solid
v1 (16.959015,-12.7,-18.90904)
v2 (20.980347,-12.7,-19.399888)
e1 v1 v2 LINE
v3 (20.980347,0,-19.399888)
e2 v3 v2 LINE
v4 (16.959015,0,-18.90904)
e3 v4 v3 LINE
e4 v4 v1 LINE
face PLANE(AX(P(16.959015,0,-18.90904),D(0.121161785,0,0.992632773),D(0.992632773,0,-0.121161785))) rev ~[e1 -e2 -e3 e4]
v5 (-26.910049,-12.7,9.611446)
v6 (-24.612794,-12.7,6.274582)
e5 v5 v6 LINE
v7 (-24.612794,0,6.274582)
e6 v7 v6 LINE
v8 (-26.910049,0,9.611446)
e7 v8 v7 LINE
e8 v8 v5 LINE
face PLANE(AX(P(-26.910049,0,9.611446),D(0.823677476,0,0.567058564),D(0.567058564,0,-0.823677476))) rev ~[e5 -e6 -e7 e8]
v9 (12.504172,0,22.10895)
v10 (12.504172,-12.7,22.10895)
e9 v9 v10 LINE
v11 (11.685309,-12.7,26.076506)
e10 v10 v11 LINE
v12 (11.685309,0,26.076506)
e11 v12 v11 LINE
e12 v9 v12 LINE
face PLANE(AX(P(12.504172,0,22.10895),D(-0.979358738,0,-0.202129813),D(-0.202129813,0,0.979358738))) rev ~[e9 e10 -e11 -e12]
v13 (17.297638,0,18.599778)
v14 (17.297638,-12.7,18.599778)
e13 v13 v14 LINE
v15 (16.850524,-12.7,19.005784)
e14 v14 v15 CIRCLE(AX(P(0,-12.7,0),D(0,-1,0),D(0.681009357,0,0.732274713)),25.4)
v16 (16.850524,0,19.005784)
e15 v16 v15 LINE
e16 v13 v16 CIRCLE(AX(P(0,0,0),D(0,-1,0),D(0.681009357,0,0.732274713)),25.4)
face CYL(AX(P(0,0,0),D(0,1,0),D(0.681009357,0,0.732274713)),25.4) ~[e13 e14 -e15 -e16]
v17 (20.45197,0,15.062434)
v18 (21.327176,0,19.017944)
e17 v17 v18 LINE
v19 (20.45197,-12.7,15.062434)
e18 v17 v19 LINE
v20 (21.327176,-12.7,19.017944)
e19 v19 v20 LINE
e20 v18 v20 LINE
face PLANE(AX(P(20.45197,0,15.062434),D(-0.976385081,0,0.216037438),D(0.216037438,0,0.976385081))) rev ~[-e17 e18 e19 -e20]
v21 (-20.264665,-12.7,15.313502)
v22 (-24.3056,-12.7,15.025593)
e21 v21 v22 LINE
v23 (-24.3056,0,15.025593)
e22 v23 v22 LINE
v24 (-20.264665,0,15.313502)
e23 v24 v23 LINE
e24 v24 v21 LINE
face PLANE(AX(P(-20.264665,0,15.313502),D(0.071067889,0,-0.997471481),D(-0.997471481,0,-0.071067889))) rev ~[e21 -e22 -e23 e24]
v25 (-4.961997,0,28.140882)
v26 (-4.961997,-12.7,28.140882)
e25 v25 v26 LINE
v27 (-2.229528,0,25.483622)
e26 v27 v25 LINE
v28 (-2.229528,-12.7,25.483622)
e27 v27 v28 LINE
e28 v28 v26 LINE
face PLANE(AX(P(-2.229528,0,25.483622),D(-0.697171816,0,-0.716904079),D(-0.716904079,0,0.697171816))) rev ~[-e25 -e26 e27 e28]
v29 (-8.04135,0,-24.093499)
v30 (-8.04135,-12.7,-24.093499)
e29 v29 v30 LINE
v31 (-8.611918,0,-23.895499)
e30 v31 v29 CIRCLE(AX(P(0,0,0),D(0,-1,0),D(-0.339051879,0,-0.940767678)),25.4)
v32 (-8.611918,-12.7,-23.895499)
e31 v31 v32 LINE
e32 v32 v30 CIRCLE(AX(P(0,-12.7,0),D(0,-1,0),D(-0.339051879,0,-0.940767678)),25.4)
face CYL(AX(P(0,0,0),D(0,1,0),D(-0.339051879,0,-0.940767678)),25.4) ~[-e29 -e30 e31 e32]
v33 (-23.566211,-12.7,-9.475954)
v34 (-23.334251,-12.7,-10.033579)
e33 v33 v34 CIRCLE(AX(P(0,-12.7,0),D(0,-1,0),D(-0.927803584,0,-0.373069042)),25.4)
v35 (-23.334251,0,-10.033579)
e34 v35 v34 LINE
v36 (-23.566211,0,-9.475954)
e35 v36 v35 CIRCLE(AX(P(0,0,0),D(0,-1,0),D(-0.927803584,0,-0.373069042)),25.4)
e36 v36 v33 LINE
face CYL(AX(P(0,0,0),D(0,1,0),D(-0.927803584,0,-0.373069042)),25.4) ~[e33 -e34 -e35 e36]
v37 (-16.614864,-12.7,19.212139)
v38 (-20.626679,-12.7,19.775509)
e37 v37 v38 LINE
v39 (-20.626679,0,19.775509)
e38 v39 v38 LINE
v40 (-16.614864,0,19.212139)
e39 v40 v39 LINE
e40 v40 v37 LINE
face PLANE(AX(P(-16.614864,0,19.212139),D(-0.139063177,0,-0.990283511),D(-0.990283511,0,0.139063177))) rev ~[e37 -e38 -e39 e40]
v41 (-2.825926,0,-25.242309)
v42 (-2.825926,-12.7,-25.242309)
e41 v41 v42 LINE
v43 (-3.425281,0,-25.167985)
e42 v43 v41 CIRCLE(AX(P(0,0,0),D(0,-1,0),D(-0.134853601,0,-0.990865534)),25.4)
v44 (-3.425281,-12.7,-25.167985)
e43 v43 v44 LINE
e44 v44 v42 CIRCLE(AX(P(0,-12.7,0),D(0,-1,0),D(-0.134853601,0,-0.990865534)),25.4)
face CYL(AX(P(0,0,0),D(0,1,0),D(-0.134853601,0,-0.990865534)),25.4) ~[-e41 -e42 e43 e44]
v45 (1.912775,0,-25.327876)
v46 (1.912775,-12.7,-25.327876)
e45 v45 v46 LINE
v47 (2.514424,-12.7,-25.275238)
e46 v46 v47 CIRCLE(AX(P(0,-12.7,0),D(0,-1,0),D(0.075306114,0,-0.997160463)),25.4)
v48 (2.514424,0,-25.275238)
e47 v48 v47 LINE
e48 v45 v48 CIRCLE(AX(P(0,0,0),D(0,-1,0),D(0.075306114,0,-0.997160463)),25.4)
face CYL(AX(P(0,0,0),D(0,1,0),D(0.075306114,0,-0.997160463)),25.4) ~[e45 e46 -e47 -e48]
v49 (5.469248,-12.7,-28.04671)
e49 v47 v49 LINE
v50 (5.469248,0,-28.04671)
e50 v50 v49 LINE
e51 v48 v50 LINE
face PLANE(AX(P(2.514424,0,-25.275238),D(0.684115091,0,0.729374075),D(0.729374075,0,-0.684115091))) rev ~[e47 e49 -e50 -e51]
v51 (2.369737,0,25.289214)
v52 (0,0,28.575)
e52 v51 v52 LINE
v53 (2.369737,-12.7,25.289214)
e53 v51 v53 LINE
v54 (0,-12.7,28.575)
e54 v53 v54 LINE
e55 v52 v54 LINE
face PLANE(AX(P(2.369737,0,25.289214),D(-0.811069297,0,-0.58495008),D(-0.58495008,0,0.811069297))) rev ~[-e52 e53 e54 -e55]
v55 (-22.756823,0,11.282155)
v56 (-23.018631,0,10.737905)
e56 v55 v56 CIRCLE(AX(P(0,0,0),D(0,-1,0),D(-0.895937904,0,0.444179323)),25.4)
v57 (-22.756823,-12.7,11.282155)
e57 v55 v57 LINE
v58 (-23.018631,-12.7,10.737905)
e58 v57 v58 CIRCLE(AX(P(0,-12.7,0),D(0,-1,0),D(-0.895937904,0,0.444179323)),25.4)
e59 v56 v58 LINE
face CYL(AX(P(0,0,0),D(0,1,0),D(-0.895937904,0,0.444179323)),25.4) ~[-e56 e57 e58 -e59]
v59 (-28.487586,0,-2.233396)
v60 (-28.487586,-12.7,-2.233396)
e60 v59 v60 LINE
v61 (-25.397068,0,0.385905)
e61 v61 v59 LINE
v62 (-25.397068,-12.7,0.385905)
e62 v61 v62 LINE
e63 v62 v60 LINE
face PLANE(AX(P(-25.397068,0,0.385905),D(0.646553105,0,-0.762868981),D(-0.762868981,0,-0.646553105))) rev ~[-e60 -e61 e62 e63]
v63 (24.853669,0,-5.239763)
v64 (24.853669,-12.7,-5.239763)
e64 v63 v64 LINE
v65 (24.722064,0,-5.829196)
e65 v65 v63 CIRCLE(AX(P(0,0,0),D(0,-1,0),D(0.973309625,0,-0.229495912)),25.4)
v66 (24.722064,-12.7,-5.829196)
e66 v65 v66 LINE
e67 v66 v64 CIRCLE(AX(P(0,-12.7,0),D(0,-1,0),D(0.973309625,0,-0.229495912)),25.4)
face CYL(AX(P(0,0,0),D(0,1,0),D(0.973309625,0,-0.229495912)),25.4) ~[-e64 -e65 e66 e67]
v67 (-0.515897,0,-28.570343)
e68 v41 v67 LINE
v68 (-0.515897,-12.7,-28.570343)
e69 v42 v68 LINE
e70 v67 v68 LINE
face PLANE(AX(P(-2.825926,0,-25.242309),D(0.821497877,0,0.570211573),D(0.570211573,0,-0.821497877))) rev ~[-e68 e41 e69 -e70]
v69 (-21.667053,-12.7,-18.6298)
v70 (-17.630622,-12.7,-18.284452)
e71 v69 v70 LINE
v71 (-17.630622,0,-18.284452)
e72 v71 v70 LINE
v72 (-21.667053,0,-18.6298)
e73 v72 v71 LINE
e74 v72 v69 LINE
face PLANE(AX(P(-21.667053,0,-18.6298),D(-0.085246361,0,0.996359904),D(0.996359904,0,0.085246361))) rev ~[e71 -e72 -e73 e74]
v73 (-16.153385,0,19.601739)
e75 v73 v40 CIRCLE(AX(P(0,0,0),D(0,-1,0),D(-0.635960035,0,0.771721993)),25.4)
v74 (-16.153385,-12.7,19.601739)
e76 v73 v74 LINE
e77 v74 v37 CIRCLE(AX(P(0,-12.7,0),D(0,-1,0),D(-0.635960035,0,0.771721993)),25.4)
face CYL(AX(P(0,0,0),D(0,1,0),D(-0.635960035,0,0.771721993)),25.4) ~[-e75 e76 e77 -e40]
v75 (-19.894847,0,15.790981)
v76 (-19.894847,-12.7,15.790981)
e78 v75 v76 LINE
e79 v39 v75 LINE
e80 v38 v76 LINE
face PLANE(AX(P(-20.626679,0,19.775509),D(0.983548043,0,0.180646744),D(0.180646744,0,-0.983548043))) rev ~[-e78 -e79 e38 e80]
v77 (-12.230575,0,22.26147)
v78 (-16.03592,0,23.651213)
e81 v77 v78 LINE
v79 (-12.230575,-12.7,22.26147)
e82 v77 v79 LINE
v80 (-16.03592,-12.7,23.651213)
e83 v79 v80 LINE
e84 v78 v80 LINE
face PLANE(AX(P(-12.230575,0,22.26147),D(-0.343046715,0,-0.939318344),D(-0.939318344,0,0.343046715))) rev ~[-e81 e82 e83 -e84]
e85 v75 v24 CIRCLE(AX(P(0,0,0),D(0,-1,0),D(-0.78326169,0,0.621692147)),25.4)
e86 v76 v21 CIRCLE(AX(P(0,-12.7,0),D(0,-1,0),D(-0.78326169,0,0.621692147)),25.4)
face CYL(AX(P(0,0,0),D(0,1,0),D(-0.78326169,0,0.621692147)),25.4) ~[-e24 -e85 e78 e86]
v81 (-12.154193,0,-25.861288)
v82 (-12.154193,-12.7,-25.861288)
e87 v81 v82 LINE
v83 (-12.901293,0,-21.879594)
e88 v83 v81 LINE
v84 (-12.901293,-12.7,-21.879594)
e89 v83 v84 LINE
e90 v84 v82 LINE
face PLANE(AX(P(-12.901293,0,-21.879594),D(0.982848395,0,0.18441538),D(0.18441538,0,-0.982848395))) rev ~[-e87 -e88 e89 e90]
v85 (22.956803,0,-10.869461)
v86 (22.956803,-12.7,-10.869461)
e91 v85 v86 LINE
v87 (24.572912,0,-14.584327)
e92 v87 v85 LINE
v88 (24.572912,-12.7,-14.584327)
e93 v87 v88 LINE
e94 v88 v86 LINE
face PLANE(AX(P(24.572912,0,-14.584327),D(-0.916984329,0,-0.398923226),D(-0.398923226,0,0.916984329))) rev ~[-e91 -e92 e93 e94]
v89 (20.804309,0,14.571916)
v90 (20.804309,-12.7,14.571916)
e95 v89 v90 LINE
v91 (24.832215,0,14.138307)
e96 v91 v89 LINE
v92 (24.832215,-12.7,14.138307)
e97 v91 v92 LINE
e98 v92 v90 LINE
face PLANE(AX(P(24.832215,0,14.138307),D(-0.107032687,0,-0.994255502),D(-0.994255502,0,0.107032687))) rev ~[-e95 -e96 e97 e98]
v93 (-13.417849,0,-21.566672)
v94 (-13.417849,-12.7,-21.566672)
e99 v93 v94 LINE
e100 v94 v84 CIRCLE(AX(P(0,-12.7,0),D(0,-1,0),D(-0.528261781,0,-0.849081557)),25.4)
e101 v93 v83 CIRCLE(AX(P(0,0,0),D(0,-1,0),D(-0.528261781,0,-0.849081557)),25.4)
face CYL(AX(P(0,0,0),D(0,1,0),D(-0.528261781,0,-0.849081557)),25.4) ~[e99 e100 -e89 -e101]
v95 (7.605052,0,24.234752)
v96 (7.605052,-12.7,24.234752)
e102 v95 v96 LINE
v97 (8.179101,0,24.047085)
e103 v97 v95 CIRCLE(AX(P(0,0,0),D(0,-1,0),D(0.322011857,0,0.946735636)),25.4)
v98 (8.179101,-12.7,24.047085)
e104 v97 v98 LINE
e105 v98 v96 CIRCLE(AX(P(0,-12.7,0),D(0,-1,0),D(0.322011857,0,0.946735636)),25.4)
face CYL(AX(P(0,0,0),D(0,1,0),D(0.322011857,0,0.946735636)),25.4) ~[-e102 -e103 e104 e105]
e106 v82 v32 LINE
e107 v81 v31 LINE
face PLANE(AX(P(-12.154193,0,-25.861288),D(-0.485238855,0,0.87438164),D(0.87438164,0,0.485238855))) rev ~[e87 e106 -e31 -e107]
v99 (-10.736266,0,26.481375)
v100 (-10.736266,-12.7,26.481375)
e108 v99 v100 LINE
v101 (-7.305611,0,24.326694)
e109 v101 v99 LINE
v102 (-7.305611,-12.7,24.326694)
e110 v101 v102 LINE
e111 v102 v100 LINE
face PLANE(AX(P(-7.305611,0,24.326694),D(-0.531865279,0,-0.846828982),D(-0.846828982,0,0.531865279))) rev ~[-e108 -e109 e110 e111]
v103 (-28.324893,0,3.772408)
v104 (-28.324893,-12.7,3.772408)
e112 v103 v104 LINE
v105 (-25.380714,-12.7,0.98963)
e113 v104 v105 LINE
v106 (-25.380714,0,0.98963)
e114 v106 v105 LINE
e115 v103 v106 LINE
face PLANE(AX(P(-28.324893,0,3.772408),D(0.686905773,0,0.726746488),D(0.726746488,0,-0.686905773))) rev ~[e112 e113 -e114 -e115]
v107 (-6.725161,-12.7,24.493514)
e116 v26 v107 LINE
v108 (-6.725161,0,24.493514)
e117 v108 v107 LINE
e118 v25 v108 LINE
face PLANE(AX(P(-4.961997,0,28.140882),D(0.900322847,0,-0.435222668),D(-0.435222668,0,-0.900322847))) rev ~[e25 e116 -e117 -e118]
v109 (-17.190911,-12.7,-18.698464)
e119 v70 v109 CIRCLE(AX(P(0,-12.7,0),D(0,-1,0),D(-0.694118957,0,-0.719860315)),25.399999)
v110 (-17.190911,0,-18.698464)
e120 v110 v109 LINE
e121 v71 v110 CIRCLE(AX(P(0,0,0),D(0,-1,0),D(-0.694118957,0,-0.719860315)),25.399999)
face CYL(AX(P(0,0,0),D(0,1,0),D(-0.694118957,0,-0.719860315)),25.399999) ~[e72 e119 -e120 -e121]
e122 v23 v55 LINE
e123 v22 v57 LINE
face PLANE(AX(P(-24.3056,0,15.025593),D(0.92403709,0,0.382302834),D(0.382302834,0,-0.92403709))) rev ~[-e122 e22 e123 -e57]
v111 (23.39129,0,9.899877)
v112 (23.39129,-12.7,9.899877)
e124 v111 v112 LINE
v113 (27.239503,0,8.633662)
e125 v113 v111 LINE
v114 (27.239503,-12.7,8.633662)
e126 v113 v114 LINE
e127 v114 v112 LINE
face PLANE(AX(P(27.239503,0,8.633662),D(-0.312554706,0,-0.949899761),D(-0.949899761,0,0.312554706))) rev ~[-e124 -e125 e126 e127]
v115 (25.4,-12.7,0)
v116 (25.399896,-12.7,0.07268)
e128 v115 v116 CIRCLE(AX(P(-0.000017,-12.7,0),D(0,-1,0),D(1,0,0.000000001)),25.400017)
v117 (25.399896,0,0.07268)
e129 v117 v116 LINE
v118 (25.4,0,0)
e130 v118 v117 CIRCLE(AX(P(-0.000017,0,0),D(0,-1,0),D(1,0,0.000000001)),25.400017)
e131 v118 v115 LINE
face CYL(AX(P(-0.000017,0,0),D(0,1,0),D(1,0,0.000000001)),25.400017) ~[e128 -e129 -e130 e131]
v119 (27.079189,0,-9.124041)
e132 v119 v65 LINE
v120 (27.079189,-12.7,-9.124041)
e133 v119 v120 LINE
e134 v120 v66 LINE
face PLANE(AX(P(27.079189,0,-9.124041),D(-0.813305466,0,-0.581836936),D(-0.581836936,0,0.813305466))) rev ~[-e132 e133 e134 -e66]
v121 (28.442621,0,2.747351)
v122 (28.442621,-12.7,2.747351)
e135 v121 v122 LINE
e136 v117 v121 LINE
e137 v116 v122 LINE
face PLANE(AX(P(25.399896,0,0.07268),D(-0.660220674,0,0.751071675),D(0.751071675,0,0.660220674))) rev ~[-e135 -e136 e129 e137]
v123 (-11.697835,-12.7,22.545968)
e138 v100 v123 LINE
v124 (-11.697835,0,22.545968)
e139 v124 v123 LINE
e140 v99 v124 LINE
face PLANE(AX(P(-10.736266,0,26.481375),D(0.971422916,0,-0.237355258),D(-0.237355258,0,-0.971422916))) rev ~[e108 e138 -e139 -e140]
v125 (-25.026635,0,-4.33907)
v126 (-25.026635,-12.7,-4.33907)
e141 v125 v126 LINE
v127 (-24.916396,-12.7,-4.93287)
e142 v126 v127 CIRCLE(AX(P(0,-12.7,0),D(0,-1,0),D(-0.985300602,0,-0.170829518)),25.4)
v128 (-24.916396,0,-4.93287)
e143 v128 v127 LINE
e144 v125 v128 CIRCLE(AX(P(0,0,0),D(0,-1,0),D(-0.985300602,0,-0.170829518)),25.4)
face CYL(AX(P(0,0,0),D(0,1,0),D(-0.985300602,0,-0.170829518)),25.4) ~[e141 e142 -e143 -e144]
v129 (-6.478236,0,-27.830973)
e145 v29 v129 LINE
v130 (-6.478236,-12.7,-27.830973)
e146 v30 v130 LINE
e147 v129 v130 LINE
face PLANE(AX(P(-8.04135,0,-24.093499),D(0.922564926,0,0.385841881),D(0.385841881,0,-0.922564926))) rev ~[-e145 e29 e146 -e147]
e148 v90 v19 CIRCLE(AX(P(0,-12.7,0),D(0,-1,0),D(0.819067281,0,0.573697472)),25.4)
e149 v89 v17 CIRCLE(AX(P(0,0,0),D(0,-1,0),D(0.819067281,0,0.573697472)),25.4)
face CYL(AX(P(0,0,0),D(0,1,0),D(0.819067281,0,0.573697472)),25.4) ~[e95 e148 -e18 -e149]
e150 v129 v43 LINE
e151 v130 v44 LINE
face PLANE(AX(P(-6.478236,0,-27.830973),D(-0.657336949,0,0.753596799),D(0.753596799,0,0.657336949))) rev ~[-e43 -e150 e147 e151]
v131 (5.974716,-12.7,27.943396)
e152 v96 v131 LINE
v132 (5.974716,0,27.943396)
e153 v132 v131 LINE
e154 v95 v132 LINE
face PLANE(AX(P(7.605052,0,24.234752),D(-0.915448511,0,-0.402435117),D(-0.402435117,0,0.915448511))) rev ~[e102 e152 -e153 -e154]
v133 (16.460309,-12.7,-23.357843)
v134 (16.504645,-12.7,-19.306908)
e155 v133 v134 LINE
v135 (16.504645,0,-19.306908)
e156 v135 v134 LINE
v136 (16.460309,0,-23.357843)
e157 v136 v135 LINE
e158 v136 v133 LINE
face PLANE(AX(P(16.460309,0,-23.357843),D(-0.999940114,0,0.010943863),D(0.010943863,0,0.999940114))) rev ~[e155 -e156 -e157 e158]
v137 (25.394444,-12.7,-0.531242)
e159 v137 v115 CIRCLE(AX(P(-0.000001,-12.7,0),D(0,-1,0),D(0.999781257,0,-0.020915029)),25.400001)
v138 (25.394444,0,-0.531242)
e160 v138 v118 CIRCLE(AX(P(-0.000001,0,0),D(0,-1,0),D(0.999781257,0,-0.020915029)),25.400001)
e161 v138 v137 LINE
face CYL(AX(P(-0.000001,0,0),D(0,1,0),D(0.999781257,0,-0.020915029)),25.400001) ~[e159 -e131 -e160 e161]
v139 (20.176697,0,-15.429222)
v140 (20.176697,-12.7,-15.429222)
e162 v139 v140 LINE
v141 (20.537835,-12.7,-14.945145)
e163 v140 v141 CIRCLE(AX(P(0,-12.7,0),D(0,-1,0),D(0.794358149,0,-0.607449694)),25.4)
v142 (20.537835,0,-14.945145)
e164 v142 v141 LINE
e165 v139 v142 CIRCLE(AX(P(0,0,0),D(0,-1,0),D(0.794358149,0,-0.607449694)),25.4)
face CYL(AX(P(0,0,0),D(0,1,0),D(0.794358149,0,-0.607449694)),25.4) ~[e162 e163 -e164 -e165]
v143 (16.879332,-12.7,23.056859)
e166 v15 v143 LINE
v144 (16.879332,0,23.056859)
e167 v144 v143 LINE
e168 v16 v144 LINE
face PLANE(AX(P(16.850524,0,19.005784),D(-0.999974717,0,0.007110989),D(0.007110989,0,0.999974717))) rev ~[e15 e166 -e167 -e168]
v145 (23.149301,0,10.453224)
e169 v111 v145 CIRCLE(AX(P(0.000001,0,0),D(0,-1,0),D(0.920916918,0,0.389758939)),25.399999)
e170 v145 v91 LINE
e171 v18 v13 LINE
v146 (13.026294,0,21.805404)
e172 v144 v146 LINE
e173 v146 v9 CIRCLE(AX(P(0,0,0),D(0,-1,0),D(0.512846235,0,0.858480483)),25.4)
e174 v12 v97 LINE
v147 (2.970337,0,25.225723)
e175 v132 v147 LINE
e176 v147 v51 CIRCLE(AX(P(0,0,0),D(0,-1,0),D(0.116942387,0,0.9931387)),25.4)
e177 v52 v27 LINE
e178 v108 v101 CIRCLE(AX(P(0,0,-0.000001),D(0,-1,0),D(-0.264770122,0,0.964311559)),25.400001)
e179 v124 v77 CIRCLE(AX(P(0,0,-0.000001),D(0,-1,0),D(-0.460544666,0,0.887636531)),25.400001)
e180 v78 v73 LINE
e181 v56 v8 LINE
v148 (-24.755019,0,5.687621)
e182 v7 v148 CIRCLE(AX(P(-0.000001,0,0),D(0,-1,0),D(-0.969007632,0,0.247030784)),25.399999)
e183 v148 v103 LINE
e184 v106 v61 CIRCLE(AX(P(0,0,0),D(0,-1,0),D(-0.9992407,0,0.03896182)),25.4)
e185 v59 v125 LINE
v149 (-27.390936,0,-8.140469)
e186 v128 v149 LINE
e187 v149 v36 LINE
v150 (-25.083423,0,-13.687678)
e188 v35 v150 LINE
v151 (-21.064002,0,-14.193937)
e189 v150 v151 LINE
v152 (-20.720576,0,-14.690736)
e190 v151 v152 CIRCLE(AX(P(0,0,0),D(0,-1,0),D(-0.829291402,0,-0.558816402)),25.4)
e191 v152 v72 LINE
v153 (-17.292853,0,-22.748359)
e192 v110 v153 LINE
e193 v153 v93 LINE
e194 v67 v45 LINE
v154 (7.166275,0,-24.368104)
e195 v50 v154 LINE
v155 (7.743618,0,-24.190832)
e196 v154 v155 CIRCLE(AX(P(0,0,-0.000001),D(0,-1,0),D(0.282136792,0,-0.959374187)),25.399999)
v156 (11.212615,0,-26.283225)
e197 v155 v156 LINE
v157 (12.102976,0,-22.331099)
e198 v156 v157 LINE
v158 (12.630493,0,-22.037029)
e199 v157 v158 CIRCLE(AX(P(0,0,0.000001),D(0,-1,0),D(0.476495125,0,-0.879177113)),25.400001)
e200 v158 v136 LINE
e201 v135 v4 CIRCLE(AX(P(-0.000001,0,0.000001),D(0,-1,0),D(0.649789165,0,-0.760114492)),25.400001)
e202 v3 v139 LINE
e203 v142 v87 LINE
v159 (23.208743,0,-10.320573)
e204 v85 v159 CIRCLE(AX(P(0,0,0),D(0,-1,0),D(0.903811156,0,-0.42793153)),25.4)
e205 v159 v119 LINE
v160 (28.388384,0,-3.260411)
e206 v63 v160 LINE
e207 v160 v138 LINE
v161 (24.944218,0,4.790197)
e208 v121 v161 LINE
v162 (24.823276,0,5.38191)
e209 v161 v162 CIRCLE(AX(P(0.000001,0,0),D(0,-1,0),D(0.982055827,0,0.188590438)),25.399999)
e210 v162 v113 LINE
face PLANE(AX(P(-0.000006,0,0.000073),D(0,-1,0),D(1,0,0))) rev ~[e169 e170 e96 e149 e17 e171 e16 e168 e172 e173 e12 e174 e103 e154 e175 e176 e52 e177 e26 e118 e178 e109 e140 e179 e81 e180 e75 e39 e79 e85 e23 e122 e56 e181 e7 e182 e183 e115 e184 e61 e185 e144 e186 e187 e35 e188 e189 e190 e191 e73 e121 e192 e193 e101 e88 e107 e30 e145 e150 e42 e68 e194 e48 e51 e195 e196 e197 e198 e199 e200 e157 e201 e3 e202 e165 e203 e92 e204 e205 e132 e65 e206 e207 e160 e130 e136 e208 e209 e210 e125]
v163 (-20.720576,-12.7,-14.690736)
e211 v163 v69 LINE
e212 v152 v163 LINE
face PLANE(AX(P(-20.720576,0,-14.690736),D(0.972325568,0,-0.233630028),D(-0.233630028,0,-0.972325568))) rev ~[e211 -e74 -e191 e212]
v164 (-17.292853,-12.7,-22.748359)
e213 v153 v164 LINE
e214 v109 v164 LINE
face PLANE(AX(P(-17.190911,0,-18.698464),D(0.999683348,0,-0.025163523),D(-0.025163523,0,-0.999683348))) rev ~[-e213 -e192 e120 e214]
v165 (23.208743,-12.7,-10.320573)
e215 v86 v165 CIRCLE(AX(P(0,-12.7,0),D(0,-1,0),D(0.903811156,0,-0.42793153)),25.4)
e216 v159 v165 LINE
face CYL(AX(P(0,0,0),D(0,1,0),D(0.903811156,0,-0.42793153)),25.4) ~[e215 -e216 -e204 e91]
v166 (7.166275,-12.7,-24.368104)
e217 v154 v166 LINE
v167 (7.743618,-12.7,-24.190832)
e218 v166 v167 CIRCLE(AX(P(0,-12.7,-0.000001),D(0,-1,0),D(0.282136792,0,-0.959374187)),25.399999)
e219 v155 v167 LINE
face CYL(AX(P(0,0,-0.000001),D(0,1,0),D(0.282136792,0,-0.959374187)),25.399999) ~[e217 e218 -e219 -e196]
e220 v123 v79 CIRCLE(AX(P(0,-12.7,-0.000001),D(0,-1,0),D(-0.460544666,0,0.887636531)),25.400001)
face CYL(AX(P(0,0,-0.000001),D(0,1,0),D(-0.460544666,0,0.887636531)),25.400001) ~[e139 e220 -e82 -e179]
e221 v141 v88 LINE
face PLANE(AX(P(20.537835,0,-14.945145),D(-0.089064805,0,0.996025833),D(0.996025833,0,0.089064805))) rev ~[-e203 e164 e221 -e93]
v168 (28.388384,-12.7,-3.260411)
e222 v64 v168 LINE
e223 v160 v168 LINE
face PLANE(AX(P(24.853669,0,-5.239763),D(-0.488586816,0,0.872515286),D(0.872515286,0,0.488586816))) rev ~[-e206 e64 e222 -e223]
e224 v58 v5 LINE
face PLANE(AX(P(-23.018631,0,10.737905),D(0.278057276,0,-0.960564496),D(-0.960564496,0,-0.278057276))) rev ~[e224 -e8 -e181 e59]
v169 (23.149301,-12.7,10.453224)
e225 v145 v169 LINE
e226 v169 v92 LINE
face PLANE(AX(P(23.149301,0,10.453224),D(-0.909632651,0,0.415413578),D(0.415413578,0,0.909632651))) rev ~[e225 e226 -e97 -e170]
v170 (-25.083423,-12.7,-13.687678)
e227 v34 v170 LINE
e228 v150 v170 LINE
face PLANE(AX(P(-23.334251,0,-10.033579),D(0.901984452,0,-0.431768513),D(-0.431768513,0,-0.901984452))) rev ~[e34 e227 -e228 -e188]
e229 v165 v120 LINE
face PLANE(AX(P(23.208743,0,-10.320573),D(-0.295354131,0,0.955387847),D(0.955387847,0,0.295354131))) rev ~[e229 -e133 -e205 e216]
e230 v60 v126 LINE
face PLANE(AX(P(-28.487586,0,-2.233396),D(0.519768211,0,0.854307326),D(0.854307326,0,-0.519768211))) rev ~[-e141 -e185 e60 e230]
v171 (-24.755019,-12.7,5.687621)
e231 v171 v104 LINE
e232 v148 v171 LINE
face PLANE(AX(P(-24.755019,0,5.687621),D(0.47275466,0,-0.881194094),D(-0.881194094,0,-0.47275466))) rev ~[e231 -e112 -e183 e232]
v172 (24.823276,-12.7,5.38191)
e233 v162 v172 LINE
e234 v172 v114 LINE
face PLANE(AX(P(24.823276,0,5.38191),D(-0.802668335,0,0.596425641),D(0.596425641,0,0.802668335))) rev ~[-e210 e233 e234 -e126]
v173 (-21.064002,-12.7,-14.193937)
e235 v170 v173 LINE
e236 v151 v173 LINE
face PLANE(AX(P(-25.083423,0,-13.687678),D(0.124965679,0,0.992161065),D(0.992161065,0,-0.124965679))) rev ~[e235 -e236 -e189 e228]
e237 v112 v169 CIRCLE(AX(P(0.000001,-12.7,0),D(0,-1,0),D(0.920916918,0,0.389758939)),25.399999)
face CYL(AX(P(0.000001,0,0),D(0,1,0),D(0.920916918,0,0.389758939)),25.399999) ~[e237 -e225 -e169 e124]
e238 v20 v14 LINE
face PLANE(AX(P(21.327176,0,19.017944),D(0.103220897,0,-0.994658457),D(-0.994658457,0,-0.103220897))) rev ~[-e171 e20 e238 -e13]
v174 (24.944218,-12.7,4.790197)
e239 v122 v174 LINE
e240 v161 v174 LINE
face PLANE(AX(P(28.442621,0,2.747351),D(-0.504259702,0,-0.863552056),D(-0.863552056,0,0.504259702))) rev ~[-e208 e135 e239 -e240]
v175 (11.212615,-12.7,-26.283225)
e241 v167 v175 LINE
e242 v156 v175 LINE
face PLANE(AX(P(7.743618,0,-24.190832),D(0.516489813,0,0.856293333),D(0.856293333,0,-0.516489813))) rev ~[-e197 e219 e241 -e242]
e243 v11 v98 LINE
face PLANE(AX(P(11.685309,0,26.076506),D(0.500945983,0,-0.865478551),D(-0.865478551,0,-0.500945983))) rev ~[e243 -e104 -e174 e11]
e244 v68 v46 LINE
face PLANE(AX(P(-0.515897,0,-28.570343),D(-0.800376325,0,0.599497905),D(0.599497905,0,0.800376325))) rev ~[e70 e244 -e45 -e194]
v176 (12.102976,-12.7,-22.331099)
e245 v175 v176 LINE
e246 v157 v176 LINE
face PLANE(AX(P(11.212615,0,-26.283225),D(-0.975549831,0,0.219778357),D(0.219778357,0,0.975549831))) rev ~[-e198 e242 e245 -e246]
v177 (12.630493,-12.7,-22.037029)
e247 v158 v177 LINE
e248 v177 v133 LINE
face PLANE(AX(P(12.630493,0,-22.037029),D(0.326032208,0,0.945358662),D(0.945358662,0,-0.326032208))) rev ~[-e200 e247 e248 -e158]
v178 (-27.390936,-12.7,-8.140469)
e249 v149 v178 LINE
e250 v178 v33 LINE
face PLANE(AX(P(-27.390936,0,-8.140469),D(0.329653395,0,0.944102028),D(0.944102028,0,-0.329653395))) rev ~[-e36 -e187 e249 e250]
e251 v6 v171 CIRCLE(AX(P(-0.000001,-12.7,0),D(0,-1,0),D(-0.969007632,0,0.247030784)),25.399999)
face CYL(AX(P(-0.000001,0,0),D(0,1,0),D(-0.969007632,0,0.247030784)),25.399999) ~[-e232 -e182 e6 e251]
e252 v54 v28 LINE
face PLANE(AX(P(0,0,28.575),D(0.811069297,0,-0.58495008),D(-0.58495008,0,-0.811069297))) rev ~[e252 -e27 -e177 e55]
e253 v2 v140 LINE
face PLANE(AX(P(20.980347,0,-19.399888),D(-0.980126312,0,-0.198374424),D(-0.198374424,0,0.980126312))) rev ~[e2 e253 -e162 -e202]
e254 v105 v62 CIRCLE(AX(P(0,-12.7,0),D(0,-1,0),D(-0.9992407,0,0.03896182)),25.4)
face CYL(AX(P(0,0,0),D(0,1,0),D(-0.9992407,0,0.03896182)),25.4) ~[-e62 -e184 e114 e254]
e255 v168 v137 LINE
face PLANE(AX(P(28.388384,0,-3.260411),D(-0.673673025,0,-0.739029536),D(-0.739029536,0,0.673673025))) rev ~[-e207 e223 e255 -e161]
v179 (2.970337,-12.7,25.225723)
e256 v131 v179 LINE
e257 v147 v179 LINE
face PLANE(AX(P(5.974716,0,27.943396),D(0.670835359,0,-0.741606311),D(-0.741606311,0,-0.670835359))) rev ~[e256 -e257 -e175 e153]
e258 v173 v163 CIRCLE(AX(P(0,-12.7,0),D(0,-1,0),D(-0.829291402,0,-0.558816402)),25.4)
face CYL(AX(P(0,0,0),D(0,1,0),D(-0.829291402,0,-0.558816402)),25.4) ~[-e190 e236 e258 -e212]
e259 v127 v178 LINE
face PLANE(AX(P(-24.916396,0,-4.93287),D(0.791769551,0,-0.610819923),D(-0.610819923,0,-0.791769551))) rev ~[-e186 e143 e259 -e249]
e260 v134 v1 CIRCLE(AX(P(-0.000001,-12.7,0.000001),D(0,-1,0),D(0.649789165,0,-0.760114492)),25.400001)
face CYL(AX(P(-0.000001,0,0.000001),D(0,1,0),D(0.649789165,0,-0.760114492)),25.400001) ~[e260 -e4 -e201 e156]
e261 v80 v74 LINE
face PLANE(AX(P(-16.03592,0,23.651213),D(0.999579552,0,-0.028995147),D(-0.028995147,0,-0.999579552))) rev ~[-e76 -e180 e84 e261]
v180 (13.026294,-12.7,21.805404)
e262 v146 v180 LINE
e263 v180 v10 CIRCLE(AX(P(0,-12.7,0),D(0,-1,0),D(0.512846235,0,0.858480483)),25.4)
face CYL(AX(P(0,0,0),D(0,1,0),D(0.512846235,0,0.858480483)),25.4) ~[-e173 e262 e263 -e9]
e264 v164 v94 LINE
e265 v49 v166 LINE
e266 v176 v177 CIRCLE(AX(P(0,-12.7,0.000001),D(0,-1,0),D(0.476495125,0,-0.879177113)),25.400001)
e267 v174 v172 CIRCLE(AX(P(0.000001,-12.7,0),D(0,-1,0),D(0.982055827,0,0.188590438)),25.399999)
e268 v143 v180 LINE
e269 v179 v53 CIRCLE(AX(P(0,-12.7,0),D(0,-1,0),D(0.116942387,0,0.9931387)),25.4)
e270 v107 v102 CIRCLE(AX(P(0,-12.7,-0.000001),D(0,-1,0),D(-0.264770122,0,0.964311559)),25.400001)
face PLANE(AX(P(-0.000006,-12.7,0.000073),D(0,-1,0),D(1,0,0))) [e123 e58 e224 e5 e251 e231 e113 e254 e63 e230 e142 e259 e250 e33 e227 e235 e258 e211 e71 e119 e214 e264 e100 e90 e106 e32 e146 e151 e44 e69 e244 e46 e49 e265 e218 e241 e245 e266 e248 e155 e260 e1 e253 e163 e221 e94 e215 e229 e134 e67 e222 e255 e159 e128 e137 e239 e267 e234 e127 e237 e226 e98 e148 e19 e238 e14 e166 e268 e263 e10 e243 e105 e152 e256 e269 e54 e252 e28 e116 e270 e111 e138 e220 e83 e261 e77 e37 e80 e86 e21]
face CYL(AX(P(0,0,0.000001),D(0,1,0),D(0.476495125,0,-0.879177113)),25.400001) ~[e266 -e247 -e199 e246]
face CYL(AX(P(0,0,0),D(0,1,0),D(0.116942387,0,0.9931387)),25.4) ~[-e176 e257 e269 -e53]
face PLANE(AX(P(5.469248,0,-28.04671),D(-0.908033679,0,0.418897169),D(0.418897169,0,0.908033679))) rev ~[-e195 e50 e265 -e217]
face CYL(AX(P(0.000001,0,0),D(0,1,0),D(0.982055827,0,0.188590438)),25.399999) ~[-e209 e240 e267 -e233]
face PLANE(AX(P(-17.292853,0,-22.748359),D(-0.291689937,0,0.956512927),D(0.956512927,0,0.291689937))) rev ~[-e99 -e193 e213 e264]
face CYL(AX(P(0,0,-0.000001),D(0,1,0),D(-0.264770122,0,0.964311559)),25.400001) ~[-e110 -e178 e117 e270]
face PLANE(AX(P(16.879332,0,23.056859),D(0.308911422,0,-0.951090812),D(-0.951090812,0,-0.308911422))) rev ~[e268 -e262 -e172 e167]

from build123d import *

# Parameters (mm, degrees)
F1_DEPTH = 12.7


with BuildPart() as f1:
    # F0 (on Front) → F1 (new body)
    with BuildSketch(Plane.XZ):
        with BuildLine():
            ThreePointArc((25.3944439241, -0.5312417394), (25.398610943, -0.2656353966), (25.4, 0))
            ThreePointArc((25.4, 0), (25.3999740039, 0.0363400731), (25.3998960157, 0.0726800719))
            ThreePointArc((25.3998960157, 0.0726800719), (25.2823297123, 2.4420901537), (24.9442179938, 4.7901971439))
            ThreePointArc((24.9442179938, 4.7901971439), (24.8855058459, 5.0864131562), (24.8232762213, 5.3819102222))
            ThreePointArc((24.8232762213, 5.3819102222), (24.2128911527, 7.6743665555), (23.3912897052, 9.8998770662))
            ThreePointArc((23.3912897052, 9.8998770662), (23.2719398097, 10.1772696484), (23.1493005092, 10.4532237101))
            ThreePointArc((23.1493005092, 10.4532237101), (22.0730798045, 12.5673842921), (20.804308943, 14.5719157767))
            ThreePointArc((20.804308943, 14.5719157767), (20.6295973686, 14.8182223093), (20.4519698749, 15.0624343396))
            ThreePointArc((20.4519698749, 15.0624343396), (18.9574897343, 16.9048390402), (17.2976376722, 18.5997777127))
            ThreePointArc((17.2976376722, 18.5997777127), (17.0752878467, 18.8041097889), (16.8505244908, 19.0057839718))
            ThreePointArc((16.8505244908, 19.0057839718), (15.0038509972, 20.4949861004), (13.0262943696, 21.8054042613))
            ThreePointArc((13.0262943696, 21.8054042613), (12.7661356522, 21.9587290277), (12.5041724875, 22.1089500068))
            ThreePointArc((12.5041724875, 22.1089500068), (10.386941041, 23.1791168039), (8.1791011637, 24.0470851488))
            ThreePointArc((8.1791011637, 24.0470851488), (7.892634321, 24.1426246186), (7.6050518829, 24.2347516154))
            ThreePointArc((7.6050518829, 24.2347516154), (5.3108583666, 24.8385745044), (2.9703366251, 25.2257229893))
            ThreePointArc((2.9703366251, 25.2257229893), (2.6702254201, 25.2592536748), (2.3697367884, 25.2892140557))
            ThreePointArc((2.3697367884, 25.2892140557), (0.1566189899, 25.3995171311), (-2.0576907736, 25.3165145445))
            ThreePointArc((-2.0576907736, 25.3165145445), (-2.2137558658, 25.3033453315), (-2.3697367884, 25.2892140557))
            ThreePointArc((-2.3697367884, 25.2892140557), (-4.564819459, 24.9864447913), (-6.7251610972, 24.4935135948))
            ThreePointArc((-6.7251610972, 24.4935135948), (-7.0158820659, 24.411829076), (-7.3056113649, 24.3266940332))
            ThreePointArc((-7.3056113649, 24.3266940332), (-9.5433476931, 23.5389998685), (-11.6978345106, 22.5459678826))
            ThreePointArc((-11.6978345106, 22.5459678826), (-11.9650502401, 22.4053023356), (-12.2305747529, 22.2614698799))
            ThreePointArc((-12.2305747529, 22.2614698799), (-14.2541514602, 21.0233005532), (-16.1533848895, 19.601738612))
            ThreePointArc((-16.1533848895, 19.601738612), (-16.3852826458, 19.4083104009), (-16.6148644014, 19.212138895))
            ThreePointArc((-16.6148644014, 19.212138895), (-18.3348257747, 17.5782298259), (-19.8948469127, 15.790980537))
            ThreePointArc((-19.8948469127, 15.790980537), (-20.0811752538, 15.5533404909), (-20.2646651932, 15.3135020361))
            ThreePointArc((-20.2646651932, 15.3135020361), (-21.604977361, 13.3560830047), (-22.7568227715, 11.2821548184))
            ThreePointArc((-22.7568227715, 11.2821548184), (-22.8893447304, 11.010808227), (-23.0186313629, 10.7379052976))
            ThreePointArc((-23.0186313629, 10.7379052976), (-23.9200435047, 8.5435074024), (-24.6127938663, 6.274581906))
            ThreePointArc((-24.6127938663, 6.274581906), (-24.6856510803, 5.9815241155), (-24.7550190663, 5.687620858))
            ThreePointArc((-24.7550190663, 5.687620858), (-25.1776826971, 3.3532512586), (-25.3807137804, 0.9896302333))
            ThreePointArc((-25.3807137804, 0.9896302333), (-25.3906854701, 0.6878163708), (-25.3970682778, 0.3859052878))
            ThreePointArc((-25.3970682778, 0.3859052878), (-25.3222988198, -1.9852411648), (-25.026635284, -4.3390697578))
            ThreePointArc((-25.026635284, -4.3390697578), (-24.9732806336, -4.6362974879), (-24.9163960999, -4.932869894))
            ThreePointArc((-24.9163960999, -4.932869894), (-24.3474988664, -7.2359725641), (-23.5662110303, -9.4759536553))
            ThreePointArc((-23.5662110303, -9.4759536553), (-23.4518886745, -9.7554557863), (-23.3342514788, -10.0335790187))
            ThreePointArc((-23.3342514788, -10.0335790187), (-22.2963755574, -12.166825264), (-21.0640016027, -14.1939366097))
            ThreePointArc((-21.0640016027, -14.1939366097), (-20.8937653594, -14.4433572658), (-20.7205758576, -14.6907364053))
            ThreePointArc((-20.7205758576, -14.6907364053), (-19.2596023508, -16.5598223809), (-17.6306215028, -18.2844520132))
            ThreePointArc((-17.6306215028, -18.2844520132), (-17.4119969598, -18.4927651224), (-17.1909112938, -18.6984643457))
            ThreePointArc((-17.1909112938, -18.6984643457), (-15.3714250659, -20.2207638689), (-13.4178492442, -21.566671548))
            ThreePointArc((-13.4178492442, -21.566671548), (-13.1605010782, -21.7246682684), (-12.9012927227, -21.8795942852))
            ThreePointArc((-12.9012927227, -21.8795942852), (-10.8037273136, -22.987811469), (-8.6119177209, -23.8954990148))
            ThreePointArc((-8.6119177209, -23.8954990148), (-8.3272224532, -23.9961948278), (-8.0413501625, -24.0934988651))
            ThreePointArc((-8.0413501625, -24.0934988651), (-5.7584320841, -24.7386430496), (-3.4252814594, -25.1679845622))
            ThreePointArc((-3.4252814594, -25.1679845622), (-3.1258245374, -25.206928035), (-2.8259257913, -25.2423085993))
            ThreePointArc((-2.8259257913, -25.2423085993), (-0.458575391, -25.3958600683), (1.9127753013, -25.3278757626))
            ThreePointArc((1.9127753013, -25.3278757626), (2.2137558658, -25.3033453315), (2.5144235238, -25.2752383637))
            ThreePointArc((2.5144235238, -25.2752383637), (4.8615534215, -24.9304091088), (7.1662745171, -24.3681043486))
            ThreePointArc((7.1662745171, -24.3681043486), (7.4554733568, -24.2811844239), (7.7436183923, -24.1908324411))
            ThreePointArc((7.7436183923, -24.1908324411), (9.9667688451, -23.3628662366), (12.1029761563, -22.3310986779))
            ThreePointArc((12.1029761563, -22.3310986779), (12.3676087357, -22.1856317052), (12.6304931982, -22.0370288735))
            ThreePointArc((12.6304931982, -22.0370288735), (14.63138599, -20.7625273994), (16.5046447729, -19.306908114))
            ThreePointArc((16.5046447729, -19.306908114), (16.7330125505, -19.1093247129), (16.9590151771, -18.9090402777))
            ThreePointArc((16.9590151771, -18.9090402777), (18.6491973766, -17.2443450791), (20.1766969823, -15.4292222385))
            ThreePointArc((20.1766969823, -15.4292222385), (20.358704565, -15.1882569255), (20.5378345181, -14.9451448071))
            ThreePointArc((20.5378345181, -14.9451448071), (21.842588694, -12.9638466185), (22.9568033568, -10.8694608715))
            ThreePointArc((22.9568033568, -10.8694608715), (23.0844047841, -10.5957659356), (23.208743314, -10.3205733263))
            ThreePointArc((23.208743314, -10.3205733263), (24.070390548, -8.1102588655), (24.7220644791, -5.8291961615))
            ThreePointArc((24.7220644791, -5.8291961615), (24.789618909, -5.5348707613), (24.8536694156, -5.239763027))
            ThreePointArc((24.8536694156, -5.239763027), (25.2341190995, -2.8981430728), (25.3944439241, -0.5312417394))
        make_face()
        with BuildLine():
            ThreePointArc((24.9442179938, 4.7901971439), (25.2823297123, 2.4420901537), (25.3998960157, 0.0726800719))
            Line((25.3998960157, 0.0726800719), (28.4426209263, 2.7473514229))
            Line((28.4426209263, 2.7473514229), (24.9442179938, 4.7901971439))
        make_face()
        with BuildLine():
            Line((28.388383987, -3.2604109569), (25.3944439241, -0.5312417394))
            ThreePointArc((25.3944439241, -0.5312417394), (25.2341190995, -2.8981430728), (24.8536694156, -5.239763027))
            Line((24.8536694156, -5.239763027), (28.388383987, -3.2604109569))
        make_face()
        with BuildLine():
            ThreePointArc((23.3912897052, 9.8998770662), (24.2128911527, 7.6743665555), (24.8232762213, 5.3819102222))
            Line((24.8232762213, 5.3819102222), (27.2395025468, 8.6336623749))
            Line((27.2395025468, 8.6336623749), (23.3912897052, 9.8998770662))
        make_face()
        with BuildLine():
            Line((27.0791893665, -9.1240412236), (24.7220644791, -5.8291961615))
            ThreePointArc((24.7220644791, -5.8291961615), (24.070390548, -8.1102588655), (23.208743314, -10.3205733263))
            Line((23.208743314, -10.3205733263), (27.0791893665, -9.1240412236))
        make_face()
        with BuildLine():
            ThreePointArc((20.804308943, 14.5719157767), (22.0730798045, 12.5673842921), (23.1493005092, 10.4532237101))
            Line((23.1493005092, 10.4532237101), (24.83221478, 14.1383073286))
            Line((24.83221478, 14.1383073286), (20.804308943, 14.5719157767))
        make_face()
        with BuildLine():
            Line((24.5729122807, -14.5843274458), (22.9568033568, -10.8694608715))
            ThreePointArc((22.9568033568, -10.8694608715), (21.842588694, -12.9638466185), (20.5378345181, -14.9451448071))
            Line((20.5378345181, -14.9451448071), (24.5729122807, -14.5843274458))
        make_face()
        with BuildLine():
            ThreePointArc((17.2976376722, 18.5997777127), (18.9574897343, 16.9048390402), (20.4519698749, 15.0624343396))
            Line((20.4519698749, 15.0624343396), (21.3271759511, 19.0179439202))
            Line((21.3271759511, 19.0179439202), (17.2976376722, 18.5997777127))
        make_face()
        with BuildLine():
            Line((20.9803470487, -19.399888214), (20.1766969823, -15.4292222385))
            ThreePointArc((20.1766969823, -15.4292222385), (18.6491973766, -17.2443450791), (16.9590151771, -18.9090402777))
            Line((16.9590151771, -18.9090402777), (20.9803470487, -19.399888214))
        make_face()
        with BuildLine():
            ThreePointArc((13.0262943696, 21.8054042613), (15.0038509972, 20.4949861004), (16.8505244908, 19.0057839718))
            Line((16.8505244908, 19.0057839718), (16.8793323718, 23.0568593629))
            Line((16.8793323718, 23.0568593629), (13.0262943696, 21.8054042613))
        make_face()
        with BuildLine():
            Line((16.4603092388, -23.3578433243), (16.5046447729, -19.306908114))
            ThreePointArc((16.5046447729, -19.306908114), (14.63138599, -20.7625273994), (12.6304931982, -22.0370288735))
            Line((12.6304931982, -22.0370288735), (16.4603092388, -23.3578433243))
        make_face()
        with BuildLine():
            ThreePointArc((8.1791011637, 24.0470851488), (10.386941041, 23.1791168039), (12.5041724875, 22.1089500068))
            Line((12.5041724875, 22.1089500068), (11.6853086711, 26.0765064044))
            Line((11.6853086711, 26.0765064044), (8.1791011637, 24.0470851488))
        make_face()
        with BuildLine():
            Line((11.2126149507, -26.2832245162), (12.1029761563, -22.3310986779))
            ThreePointArc((12.1029761563, -22.3310986779), (9.9667688451, -23.3628662366), (7.7436183923, -24.1908324411))
            Line((7.7436183923, -24.1908324411), (11.2126149507, -26.2832245162))
        make_face()
        with BuildLine():
            ThreePointArc((2.9703366251, 25.2257229893), (5.3108583666, 24.8385745044), (7.6050518829, 24.2347516154))
            Line((7.6050518829, 24.2347516154), (5.9747156624, 27.9433963174))
            Line((5.9747156624, 27.9433963174), (2.9703366251, 25.2257229893))
        make_face()
        with BuildLine():
            Line((5.4692475992, -28.0467102473), (7.1662745171, -24.3681043486))
            ThreePointArc((7.1662745171, -24.3681043486), (4.8615534215, -24.9304091088), (2.5144235238, -25.2752383637))
            Line((2.5144235238, -25.2752383637), (5.4692475992, -28.0467102473))
        make_face()
        with BuildLine():
            ThreePointArc((-2.0576907736, 25.3165145445), (0.1566189899, 25.3995171311), (2.3697367884, 25.2892140557))
            Line((2.3697367884, 25.2892140557), (0, 28.575))
            Line((0, 28.575), (-2.2295280407, 25.4836221159))
            Line((-2.2295280407, 25.4836221159), (-2.0576907736, 25.3165145445))
        make_face()
        with BuildLine():
            Line((-0.5158973148, -28.5703425769), (1.9127753013, -25.3278757626))
            ThreePointArc((1.9127753013, -25.3278757626), (-0.458575391, -25.3958600683), (-2.8259257913, -25.2423085993))
            Line((-2.8259257913, -25.2423085993), (-0.5158973148, -28.5703425769))
        make_face()
        with BuildLine():
            ThreePointArc((-2.3697367884, 25.2892140557), (-2.2137558658, 25.3033453315), (-2.0576907736, 25.3165145445))
            Line((-2.0576907736, 25.3165145445), (-2.2295280407, 25.4836221159))
            Line((-2.2295280407, 25.4836221159), (-2.3697367884, 25.2892140557))
        make_face()
        with BuildLine():
            ThreePointArc((-6.7251610972, 24.4935135948), (-4.564819459, 24.9864447913), (-2.3697367884, 25.2892140557))
            Line((-2.3697367884, 25.2892140557), (-2.2295280407, 25.4836221159))
            Line((-2.2295280407, 25.4836221159), (-4.9619966768, 28.1408815423))
            Line((-4.9619966768, 28.1408815423), (-6.7251610972, 24.4935135948))
        make_face()
        with BuildLine():
            Line((-6.4782360946, -27.8309734307), (-3.4252814594, -25.1679845622))
            ThreePointArc((-3.4252814594, -25.1679845622), (-5.7584320841, -24.7386430496), (-8.0413501625, -24.0934988651))
            Line((-8.0413501625, -24.0934988651), (-6.4782360946, -27.8309734307))
        make_face()
        with BuildLine():
            ThreePointArc((-11.6978345106, 22.5459678826), (-9.5433476931, 23.5389998685), (-7.3056113649, 24.3266940332))
            Line((-7.3056113649, 24.3266940332), (-10.7362661547, 26.481374852))
            Line((-10.7362661547, 26.481374852), (-11.6978345106, 22.5459678826))
        make_face()
        with BuildLine():
            Line((-12.1541932278, -25.8612879026), (-8.6119177209, -23.8954990148))
            ThreePointArc((-8.6119177209, -23.8954990148), (-10.8037273136, -22.987811469), (-12.9012927227, -21.8795942852))
            Line((-12.9012927227, -21.8795942852), (-12.1541932278, -25.8612879026))
        make_face()
        with BuildLine():
            ThreePointArc((-16.1533848895, 19.601738612), (-14.2541514602, 21.0233005532), (-12.2305747529, 22.2614698799))
            Line((-12.2305747529, 22.2614698799), (-16.0359203927, 23.6512131223))
            Line((-16.0359203927, 23.6512131223), (-16.1533848895, 19.601738612))
        make_face()
        with BuildLine():
            Line((-17.2928531992, -22.7483593525), (-13.4178492442, -21.566671548))
            ThreePointArc((-13.4178492442, -21.566671548), (-15.3714250659, -20.2207638689), (-17.1909112938, -18.6984643457))
            Line((-17.1909112938, -18.6984643457), (-17.2928531992, -22.7483593525))
        make_face()
        with BuildLine():
            ThreePointArc((-19.8948469127, 15.790980537), (-18.3348257747, 17.5782298259), (-16.6148644014, 19.212138895))
            Line((-16.6148644014, 19.212138895), (-20.6266789965, 19.7755085541))
            Line((-20.6266789965, 19.7755085541), (-19.8948469127, 15.790980537))
        make_face()
        with BuildLine():
            Line((-21.6670526447, -18.6298001786), (-17.6306215028, -18.2844520132))
            ThreePointArc((-17.6306215028, -18.2844520132), (-19.2596023508, -16.5598223809), (-20.7205758576, -14.6907364053))
            Line((-20.7205758576, -14.6907364053), (-21.6670526447, -18.6298001786))
        make_face()
        with BuildLine():
            ThreePointArc((-22.7568227715, 11.2821548184), (-21.604977361, 13.3560830047), (-20.2646651932, 15.3135020361))
            Line((-20.2646651932, 15.3135020361), (-24.3055995312, 15.0255933803))
            Line((-24.3055995312, 15.0255933803), (-22.7568227715, 11.2821548184))
        make_face()
        with BuildLine():
            Line((-25.083422502, -13.687678422), (-21.0640016027, -14.1939366097))
            ThreePointArc((-21.0640016027, -14.1939366097), (-22.2963755574, -12.166825264), (-23.3342514788, -10.0335790187))
            Line((-23.3342514788, -10.0335790187), (-25.083422502, -13.687678422))
        make_face()
        with BuildLine():
            ThreePointArc((-24.6127938663, 6.274581906), (-23.9200435047, 8.5435074024), (-23.0186313629, 10.7379052976))
            Line((-23.0186313629, 10.7379052976), (-26.9100489427, 9.6114458277))
            Line((-26.9100489427, 9.6114458277), (-24.6127938663, 6.274581906))
        make_face()
        with BuildLine():
            Line((-27.3909362247, -8.1404691347), (-23.5662110303, -9.4759536553))
            ThreePointArc((-23.5662110303, -9.4759536553), (-24.3474988664, -7.2359725641), (-24.9163960999, -4.932869894))
            Line((-24.9163960999, -4.932869894), (-27.3909362247, -8.1404691347))
        make_face()
        with BuildLine():
            ThreePointArc((-25.3807137804, 0.9896302333), (-25.1776826971, 3.3532512586), (-24.7550190663, 5.687620858))
            Line((-24.7550190663, 5.687620858), (-28.3248930343, 3.7724076659))
            Line((-28.3248930343, 3.7724076659), (-25.3807137804, 0.9896302333))
        make_face()
        with BuildLine():
            Line((-28.4875861722, -2.2333963104), (-25.026635284, -4.3390697578))
            ThreePointArc((-25.026635284, -4.3390697578), (-25.3222988198, -1.9852411648), (-25.3970682778, 0.3859052878))
            Line((-25.3970682778, 0.3859052878), (-28.4875861722, -2.2333963104))
        make_face()
    extrude(amount=F1_DEPTH)


solid = f1.part
